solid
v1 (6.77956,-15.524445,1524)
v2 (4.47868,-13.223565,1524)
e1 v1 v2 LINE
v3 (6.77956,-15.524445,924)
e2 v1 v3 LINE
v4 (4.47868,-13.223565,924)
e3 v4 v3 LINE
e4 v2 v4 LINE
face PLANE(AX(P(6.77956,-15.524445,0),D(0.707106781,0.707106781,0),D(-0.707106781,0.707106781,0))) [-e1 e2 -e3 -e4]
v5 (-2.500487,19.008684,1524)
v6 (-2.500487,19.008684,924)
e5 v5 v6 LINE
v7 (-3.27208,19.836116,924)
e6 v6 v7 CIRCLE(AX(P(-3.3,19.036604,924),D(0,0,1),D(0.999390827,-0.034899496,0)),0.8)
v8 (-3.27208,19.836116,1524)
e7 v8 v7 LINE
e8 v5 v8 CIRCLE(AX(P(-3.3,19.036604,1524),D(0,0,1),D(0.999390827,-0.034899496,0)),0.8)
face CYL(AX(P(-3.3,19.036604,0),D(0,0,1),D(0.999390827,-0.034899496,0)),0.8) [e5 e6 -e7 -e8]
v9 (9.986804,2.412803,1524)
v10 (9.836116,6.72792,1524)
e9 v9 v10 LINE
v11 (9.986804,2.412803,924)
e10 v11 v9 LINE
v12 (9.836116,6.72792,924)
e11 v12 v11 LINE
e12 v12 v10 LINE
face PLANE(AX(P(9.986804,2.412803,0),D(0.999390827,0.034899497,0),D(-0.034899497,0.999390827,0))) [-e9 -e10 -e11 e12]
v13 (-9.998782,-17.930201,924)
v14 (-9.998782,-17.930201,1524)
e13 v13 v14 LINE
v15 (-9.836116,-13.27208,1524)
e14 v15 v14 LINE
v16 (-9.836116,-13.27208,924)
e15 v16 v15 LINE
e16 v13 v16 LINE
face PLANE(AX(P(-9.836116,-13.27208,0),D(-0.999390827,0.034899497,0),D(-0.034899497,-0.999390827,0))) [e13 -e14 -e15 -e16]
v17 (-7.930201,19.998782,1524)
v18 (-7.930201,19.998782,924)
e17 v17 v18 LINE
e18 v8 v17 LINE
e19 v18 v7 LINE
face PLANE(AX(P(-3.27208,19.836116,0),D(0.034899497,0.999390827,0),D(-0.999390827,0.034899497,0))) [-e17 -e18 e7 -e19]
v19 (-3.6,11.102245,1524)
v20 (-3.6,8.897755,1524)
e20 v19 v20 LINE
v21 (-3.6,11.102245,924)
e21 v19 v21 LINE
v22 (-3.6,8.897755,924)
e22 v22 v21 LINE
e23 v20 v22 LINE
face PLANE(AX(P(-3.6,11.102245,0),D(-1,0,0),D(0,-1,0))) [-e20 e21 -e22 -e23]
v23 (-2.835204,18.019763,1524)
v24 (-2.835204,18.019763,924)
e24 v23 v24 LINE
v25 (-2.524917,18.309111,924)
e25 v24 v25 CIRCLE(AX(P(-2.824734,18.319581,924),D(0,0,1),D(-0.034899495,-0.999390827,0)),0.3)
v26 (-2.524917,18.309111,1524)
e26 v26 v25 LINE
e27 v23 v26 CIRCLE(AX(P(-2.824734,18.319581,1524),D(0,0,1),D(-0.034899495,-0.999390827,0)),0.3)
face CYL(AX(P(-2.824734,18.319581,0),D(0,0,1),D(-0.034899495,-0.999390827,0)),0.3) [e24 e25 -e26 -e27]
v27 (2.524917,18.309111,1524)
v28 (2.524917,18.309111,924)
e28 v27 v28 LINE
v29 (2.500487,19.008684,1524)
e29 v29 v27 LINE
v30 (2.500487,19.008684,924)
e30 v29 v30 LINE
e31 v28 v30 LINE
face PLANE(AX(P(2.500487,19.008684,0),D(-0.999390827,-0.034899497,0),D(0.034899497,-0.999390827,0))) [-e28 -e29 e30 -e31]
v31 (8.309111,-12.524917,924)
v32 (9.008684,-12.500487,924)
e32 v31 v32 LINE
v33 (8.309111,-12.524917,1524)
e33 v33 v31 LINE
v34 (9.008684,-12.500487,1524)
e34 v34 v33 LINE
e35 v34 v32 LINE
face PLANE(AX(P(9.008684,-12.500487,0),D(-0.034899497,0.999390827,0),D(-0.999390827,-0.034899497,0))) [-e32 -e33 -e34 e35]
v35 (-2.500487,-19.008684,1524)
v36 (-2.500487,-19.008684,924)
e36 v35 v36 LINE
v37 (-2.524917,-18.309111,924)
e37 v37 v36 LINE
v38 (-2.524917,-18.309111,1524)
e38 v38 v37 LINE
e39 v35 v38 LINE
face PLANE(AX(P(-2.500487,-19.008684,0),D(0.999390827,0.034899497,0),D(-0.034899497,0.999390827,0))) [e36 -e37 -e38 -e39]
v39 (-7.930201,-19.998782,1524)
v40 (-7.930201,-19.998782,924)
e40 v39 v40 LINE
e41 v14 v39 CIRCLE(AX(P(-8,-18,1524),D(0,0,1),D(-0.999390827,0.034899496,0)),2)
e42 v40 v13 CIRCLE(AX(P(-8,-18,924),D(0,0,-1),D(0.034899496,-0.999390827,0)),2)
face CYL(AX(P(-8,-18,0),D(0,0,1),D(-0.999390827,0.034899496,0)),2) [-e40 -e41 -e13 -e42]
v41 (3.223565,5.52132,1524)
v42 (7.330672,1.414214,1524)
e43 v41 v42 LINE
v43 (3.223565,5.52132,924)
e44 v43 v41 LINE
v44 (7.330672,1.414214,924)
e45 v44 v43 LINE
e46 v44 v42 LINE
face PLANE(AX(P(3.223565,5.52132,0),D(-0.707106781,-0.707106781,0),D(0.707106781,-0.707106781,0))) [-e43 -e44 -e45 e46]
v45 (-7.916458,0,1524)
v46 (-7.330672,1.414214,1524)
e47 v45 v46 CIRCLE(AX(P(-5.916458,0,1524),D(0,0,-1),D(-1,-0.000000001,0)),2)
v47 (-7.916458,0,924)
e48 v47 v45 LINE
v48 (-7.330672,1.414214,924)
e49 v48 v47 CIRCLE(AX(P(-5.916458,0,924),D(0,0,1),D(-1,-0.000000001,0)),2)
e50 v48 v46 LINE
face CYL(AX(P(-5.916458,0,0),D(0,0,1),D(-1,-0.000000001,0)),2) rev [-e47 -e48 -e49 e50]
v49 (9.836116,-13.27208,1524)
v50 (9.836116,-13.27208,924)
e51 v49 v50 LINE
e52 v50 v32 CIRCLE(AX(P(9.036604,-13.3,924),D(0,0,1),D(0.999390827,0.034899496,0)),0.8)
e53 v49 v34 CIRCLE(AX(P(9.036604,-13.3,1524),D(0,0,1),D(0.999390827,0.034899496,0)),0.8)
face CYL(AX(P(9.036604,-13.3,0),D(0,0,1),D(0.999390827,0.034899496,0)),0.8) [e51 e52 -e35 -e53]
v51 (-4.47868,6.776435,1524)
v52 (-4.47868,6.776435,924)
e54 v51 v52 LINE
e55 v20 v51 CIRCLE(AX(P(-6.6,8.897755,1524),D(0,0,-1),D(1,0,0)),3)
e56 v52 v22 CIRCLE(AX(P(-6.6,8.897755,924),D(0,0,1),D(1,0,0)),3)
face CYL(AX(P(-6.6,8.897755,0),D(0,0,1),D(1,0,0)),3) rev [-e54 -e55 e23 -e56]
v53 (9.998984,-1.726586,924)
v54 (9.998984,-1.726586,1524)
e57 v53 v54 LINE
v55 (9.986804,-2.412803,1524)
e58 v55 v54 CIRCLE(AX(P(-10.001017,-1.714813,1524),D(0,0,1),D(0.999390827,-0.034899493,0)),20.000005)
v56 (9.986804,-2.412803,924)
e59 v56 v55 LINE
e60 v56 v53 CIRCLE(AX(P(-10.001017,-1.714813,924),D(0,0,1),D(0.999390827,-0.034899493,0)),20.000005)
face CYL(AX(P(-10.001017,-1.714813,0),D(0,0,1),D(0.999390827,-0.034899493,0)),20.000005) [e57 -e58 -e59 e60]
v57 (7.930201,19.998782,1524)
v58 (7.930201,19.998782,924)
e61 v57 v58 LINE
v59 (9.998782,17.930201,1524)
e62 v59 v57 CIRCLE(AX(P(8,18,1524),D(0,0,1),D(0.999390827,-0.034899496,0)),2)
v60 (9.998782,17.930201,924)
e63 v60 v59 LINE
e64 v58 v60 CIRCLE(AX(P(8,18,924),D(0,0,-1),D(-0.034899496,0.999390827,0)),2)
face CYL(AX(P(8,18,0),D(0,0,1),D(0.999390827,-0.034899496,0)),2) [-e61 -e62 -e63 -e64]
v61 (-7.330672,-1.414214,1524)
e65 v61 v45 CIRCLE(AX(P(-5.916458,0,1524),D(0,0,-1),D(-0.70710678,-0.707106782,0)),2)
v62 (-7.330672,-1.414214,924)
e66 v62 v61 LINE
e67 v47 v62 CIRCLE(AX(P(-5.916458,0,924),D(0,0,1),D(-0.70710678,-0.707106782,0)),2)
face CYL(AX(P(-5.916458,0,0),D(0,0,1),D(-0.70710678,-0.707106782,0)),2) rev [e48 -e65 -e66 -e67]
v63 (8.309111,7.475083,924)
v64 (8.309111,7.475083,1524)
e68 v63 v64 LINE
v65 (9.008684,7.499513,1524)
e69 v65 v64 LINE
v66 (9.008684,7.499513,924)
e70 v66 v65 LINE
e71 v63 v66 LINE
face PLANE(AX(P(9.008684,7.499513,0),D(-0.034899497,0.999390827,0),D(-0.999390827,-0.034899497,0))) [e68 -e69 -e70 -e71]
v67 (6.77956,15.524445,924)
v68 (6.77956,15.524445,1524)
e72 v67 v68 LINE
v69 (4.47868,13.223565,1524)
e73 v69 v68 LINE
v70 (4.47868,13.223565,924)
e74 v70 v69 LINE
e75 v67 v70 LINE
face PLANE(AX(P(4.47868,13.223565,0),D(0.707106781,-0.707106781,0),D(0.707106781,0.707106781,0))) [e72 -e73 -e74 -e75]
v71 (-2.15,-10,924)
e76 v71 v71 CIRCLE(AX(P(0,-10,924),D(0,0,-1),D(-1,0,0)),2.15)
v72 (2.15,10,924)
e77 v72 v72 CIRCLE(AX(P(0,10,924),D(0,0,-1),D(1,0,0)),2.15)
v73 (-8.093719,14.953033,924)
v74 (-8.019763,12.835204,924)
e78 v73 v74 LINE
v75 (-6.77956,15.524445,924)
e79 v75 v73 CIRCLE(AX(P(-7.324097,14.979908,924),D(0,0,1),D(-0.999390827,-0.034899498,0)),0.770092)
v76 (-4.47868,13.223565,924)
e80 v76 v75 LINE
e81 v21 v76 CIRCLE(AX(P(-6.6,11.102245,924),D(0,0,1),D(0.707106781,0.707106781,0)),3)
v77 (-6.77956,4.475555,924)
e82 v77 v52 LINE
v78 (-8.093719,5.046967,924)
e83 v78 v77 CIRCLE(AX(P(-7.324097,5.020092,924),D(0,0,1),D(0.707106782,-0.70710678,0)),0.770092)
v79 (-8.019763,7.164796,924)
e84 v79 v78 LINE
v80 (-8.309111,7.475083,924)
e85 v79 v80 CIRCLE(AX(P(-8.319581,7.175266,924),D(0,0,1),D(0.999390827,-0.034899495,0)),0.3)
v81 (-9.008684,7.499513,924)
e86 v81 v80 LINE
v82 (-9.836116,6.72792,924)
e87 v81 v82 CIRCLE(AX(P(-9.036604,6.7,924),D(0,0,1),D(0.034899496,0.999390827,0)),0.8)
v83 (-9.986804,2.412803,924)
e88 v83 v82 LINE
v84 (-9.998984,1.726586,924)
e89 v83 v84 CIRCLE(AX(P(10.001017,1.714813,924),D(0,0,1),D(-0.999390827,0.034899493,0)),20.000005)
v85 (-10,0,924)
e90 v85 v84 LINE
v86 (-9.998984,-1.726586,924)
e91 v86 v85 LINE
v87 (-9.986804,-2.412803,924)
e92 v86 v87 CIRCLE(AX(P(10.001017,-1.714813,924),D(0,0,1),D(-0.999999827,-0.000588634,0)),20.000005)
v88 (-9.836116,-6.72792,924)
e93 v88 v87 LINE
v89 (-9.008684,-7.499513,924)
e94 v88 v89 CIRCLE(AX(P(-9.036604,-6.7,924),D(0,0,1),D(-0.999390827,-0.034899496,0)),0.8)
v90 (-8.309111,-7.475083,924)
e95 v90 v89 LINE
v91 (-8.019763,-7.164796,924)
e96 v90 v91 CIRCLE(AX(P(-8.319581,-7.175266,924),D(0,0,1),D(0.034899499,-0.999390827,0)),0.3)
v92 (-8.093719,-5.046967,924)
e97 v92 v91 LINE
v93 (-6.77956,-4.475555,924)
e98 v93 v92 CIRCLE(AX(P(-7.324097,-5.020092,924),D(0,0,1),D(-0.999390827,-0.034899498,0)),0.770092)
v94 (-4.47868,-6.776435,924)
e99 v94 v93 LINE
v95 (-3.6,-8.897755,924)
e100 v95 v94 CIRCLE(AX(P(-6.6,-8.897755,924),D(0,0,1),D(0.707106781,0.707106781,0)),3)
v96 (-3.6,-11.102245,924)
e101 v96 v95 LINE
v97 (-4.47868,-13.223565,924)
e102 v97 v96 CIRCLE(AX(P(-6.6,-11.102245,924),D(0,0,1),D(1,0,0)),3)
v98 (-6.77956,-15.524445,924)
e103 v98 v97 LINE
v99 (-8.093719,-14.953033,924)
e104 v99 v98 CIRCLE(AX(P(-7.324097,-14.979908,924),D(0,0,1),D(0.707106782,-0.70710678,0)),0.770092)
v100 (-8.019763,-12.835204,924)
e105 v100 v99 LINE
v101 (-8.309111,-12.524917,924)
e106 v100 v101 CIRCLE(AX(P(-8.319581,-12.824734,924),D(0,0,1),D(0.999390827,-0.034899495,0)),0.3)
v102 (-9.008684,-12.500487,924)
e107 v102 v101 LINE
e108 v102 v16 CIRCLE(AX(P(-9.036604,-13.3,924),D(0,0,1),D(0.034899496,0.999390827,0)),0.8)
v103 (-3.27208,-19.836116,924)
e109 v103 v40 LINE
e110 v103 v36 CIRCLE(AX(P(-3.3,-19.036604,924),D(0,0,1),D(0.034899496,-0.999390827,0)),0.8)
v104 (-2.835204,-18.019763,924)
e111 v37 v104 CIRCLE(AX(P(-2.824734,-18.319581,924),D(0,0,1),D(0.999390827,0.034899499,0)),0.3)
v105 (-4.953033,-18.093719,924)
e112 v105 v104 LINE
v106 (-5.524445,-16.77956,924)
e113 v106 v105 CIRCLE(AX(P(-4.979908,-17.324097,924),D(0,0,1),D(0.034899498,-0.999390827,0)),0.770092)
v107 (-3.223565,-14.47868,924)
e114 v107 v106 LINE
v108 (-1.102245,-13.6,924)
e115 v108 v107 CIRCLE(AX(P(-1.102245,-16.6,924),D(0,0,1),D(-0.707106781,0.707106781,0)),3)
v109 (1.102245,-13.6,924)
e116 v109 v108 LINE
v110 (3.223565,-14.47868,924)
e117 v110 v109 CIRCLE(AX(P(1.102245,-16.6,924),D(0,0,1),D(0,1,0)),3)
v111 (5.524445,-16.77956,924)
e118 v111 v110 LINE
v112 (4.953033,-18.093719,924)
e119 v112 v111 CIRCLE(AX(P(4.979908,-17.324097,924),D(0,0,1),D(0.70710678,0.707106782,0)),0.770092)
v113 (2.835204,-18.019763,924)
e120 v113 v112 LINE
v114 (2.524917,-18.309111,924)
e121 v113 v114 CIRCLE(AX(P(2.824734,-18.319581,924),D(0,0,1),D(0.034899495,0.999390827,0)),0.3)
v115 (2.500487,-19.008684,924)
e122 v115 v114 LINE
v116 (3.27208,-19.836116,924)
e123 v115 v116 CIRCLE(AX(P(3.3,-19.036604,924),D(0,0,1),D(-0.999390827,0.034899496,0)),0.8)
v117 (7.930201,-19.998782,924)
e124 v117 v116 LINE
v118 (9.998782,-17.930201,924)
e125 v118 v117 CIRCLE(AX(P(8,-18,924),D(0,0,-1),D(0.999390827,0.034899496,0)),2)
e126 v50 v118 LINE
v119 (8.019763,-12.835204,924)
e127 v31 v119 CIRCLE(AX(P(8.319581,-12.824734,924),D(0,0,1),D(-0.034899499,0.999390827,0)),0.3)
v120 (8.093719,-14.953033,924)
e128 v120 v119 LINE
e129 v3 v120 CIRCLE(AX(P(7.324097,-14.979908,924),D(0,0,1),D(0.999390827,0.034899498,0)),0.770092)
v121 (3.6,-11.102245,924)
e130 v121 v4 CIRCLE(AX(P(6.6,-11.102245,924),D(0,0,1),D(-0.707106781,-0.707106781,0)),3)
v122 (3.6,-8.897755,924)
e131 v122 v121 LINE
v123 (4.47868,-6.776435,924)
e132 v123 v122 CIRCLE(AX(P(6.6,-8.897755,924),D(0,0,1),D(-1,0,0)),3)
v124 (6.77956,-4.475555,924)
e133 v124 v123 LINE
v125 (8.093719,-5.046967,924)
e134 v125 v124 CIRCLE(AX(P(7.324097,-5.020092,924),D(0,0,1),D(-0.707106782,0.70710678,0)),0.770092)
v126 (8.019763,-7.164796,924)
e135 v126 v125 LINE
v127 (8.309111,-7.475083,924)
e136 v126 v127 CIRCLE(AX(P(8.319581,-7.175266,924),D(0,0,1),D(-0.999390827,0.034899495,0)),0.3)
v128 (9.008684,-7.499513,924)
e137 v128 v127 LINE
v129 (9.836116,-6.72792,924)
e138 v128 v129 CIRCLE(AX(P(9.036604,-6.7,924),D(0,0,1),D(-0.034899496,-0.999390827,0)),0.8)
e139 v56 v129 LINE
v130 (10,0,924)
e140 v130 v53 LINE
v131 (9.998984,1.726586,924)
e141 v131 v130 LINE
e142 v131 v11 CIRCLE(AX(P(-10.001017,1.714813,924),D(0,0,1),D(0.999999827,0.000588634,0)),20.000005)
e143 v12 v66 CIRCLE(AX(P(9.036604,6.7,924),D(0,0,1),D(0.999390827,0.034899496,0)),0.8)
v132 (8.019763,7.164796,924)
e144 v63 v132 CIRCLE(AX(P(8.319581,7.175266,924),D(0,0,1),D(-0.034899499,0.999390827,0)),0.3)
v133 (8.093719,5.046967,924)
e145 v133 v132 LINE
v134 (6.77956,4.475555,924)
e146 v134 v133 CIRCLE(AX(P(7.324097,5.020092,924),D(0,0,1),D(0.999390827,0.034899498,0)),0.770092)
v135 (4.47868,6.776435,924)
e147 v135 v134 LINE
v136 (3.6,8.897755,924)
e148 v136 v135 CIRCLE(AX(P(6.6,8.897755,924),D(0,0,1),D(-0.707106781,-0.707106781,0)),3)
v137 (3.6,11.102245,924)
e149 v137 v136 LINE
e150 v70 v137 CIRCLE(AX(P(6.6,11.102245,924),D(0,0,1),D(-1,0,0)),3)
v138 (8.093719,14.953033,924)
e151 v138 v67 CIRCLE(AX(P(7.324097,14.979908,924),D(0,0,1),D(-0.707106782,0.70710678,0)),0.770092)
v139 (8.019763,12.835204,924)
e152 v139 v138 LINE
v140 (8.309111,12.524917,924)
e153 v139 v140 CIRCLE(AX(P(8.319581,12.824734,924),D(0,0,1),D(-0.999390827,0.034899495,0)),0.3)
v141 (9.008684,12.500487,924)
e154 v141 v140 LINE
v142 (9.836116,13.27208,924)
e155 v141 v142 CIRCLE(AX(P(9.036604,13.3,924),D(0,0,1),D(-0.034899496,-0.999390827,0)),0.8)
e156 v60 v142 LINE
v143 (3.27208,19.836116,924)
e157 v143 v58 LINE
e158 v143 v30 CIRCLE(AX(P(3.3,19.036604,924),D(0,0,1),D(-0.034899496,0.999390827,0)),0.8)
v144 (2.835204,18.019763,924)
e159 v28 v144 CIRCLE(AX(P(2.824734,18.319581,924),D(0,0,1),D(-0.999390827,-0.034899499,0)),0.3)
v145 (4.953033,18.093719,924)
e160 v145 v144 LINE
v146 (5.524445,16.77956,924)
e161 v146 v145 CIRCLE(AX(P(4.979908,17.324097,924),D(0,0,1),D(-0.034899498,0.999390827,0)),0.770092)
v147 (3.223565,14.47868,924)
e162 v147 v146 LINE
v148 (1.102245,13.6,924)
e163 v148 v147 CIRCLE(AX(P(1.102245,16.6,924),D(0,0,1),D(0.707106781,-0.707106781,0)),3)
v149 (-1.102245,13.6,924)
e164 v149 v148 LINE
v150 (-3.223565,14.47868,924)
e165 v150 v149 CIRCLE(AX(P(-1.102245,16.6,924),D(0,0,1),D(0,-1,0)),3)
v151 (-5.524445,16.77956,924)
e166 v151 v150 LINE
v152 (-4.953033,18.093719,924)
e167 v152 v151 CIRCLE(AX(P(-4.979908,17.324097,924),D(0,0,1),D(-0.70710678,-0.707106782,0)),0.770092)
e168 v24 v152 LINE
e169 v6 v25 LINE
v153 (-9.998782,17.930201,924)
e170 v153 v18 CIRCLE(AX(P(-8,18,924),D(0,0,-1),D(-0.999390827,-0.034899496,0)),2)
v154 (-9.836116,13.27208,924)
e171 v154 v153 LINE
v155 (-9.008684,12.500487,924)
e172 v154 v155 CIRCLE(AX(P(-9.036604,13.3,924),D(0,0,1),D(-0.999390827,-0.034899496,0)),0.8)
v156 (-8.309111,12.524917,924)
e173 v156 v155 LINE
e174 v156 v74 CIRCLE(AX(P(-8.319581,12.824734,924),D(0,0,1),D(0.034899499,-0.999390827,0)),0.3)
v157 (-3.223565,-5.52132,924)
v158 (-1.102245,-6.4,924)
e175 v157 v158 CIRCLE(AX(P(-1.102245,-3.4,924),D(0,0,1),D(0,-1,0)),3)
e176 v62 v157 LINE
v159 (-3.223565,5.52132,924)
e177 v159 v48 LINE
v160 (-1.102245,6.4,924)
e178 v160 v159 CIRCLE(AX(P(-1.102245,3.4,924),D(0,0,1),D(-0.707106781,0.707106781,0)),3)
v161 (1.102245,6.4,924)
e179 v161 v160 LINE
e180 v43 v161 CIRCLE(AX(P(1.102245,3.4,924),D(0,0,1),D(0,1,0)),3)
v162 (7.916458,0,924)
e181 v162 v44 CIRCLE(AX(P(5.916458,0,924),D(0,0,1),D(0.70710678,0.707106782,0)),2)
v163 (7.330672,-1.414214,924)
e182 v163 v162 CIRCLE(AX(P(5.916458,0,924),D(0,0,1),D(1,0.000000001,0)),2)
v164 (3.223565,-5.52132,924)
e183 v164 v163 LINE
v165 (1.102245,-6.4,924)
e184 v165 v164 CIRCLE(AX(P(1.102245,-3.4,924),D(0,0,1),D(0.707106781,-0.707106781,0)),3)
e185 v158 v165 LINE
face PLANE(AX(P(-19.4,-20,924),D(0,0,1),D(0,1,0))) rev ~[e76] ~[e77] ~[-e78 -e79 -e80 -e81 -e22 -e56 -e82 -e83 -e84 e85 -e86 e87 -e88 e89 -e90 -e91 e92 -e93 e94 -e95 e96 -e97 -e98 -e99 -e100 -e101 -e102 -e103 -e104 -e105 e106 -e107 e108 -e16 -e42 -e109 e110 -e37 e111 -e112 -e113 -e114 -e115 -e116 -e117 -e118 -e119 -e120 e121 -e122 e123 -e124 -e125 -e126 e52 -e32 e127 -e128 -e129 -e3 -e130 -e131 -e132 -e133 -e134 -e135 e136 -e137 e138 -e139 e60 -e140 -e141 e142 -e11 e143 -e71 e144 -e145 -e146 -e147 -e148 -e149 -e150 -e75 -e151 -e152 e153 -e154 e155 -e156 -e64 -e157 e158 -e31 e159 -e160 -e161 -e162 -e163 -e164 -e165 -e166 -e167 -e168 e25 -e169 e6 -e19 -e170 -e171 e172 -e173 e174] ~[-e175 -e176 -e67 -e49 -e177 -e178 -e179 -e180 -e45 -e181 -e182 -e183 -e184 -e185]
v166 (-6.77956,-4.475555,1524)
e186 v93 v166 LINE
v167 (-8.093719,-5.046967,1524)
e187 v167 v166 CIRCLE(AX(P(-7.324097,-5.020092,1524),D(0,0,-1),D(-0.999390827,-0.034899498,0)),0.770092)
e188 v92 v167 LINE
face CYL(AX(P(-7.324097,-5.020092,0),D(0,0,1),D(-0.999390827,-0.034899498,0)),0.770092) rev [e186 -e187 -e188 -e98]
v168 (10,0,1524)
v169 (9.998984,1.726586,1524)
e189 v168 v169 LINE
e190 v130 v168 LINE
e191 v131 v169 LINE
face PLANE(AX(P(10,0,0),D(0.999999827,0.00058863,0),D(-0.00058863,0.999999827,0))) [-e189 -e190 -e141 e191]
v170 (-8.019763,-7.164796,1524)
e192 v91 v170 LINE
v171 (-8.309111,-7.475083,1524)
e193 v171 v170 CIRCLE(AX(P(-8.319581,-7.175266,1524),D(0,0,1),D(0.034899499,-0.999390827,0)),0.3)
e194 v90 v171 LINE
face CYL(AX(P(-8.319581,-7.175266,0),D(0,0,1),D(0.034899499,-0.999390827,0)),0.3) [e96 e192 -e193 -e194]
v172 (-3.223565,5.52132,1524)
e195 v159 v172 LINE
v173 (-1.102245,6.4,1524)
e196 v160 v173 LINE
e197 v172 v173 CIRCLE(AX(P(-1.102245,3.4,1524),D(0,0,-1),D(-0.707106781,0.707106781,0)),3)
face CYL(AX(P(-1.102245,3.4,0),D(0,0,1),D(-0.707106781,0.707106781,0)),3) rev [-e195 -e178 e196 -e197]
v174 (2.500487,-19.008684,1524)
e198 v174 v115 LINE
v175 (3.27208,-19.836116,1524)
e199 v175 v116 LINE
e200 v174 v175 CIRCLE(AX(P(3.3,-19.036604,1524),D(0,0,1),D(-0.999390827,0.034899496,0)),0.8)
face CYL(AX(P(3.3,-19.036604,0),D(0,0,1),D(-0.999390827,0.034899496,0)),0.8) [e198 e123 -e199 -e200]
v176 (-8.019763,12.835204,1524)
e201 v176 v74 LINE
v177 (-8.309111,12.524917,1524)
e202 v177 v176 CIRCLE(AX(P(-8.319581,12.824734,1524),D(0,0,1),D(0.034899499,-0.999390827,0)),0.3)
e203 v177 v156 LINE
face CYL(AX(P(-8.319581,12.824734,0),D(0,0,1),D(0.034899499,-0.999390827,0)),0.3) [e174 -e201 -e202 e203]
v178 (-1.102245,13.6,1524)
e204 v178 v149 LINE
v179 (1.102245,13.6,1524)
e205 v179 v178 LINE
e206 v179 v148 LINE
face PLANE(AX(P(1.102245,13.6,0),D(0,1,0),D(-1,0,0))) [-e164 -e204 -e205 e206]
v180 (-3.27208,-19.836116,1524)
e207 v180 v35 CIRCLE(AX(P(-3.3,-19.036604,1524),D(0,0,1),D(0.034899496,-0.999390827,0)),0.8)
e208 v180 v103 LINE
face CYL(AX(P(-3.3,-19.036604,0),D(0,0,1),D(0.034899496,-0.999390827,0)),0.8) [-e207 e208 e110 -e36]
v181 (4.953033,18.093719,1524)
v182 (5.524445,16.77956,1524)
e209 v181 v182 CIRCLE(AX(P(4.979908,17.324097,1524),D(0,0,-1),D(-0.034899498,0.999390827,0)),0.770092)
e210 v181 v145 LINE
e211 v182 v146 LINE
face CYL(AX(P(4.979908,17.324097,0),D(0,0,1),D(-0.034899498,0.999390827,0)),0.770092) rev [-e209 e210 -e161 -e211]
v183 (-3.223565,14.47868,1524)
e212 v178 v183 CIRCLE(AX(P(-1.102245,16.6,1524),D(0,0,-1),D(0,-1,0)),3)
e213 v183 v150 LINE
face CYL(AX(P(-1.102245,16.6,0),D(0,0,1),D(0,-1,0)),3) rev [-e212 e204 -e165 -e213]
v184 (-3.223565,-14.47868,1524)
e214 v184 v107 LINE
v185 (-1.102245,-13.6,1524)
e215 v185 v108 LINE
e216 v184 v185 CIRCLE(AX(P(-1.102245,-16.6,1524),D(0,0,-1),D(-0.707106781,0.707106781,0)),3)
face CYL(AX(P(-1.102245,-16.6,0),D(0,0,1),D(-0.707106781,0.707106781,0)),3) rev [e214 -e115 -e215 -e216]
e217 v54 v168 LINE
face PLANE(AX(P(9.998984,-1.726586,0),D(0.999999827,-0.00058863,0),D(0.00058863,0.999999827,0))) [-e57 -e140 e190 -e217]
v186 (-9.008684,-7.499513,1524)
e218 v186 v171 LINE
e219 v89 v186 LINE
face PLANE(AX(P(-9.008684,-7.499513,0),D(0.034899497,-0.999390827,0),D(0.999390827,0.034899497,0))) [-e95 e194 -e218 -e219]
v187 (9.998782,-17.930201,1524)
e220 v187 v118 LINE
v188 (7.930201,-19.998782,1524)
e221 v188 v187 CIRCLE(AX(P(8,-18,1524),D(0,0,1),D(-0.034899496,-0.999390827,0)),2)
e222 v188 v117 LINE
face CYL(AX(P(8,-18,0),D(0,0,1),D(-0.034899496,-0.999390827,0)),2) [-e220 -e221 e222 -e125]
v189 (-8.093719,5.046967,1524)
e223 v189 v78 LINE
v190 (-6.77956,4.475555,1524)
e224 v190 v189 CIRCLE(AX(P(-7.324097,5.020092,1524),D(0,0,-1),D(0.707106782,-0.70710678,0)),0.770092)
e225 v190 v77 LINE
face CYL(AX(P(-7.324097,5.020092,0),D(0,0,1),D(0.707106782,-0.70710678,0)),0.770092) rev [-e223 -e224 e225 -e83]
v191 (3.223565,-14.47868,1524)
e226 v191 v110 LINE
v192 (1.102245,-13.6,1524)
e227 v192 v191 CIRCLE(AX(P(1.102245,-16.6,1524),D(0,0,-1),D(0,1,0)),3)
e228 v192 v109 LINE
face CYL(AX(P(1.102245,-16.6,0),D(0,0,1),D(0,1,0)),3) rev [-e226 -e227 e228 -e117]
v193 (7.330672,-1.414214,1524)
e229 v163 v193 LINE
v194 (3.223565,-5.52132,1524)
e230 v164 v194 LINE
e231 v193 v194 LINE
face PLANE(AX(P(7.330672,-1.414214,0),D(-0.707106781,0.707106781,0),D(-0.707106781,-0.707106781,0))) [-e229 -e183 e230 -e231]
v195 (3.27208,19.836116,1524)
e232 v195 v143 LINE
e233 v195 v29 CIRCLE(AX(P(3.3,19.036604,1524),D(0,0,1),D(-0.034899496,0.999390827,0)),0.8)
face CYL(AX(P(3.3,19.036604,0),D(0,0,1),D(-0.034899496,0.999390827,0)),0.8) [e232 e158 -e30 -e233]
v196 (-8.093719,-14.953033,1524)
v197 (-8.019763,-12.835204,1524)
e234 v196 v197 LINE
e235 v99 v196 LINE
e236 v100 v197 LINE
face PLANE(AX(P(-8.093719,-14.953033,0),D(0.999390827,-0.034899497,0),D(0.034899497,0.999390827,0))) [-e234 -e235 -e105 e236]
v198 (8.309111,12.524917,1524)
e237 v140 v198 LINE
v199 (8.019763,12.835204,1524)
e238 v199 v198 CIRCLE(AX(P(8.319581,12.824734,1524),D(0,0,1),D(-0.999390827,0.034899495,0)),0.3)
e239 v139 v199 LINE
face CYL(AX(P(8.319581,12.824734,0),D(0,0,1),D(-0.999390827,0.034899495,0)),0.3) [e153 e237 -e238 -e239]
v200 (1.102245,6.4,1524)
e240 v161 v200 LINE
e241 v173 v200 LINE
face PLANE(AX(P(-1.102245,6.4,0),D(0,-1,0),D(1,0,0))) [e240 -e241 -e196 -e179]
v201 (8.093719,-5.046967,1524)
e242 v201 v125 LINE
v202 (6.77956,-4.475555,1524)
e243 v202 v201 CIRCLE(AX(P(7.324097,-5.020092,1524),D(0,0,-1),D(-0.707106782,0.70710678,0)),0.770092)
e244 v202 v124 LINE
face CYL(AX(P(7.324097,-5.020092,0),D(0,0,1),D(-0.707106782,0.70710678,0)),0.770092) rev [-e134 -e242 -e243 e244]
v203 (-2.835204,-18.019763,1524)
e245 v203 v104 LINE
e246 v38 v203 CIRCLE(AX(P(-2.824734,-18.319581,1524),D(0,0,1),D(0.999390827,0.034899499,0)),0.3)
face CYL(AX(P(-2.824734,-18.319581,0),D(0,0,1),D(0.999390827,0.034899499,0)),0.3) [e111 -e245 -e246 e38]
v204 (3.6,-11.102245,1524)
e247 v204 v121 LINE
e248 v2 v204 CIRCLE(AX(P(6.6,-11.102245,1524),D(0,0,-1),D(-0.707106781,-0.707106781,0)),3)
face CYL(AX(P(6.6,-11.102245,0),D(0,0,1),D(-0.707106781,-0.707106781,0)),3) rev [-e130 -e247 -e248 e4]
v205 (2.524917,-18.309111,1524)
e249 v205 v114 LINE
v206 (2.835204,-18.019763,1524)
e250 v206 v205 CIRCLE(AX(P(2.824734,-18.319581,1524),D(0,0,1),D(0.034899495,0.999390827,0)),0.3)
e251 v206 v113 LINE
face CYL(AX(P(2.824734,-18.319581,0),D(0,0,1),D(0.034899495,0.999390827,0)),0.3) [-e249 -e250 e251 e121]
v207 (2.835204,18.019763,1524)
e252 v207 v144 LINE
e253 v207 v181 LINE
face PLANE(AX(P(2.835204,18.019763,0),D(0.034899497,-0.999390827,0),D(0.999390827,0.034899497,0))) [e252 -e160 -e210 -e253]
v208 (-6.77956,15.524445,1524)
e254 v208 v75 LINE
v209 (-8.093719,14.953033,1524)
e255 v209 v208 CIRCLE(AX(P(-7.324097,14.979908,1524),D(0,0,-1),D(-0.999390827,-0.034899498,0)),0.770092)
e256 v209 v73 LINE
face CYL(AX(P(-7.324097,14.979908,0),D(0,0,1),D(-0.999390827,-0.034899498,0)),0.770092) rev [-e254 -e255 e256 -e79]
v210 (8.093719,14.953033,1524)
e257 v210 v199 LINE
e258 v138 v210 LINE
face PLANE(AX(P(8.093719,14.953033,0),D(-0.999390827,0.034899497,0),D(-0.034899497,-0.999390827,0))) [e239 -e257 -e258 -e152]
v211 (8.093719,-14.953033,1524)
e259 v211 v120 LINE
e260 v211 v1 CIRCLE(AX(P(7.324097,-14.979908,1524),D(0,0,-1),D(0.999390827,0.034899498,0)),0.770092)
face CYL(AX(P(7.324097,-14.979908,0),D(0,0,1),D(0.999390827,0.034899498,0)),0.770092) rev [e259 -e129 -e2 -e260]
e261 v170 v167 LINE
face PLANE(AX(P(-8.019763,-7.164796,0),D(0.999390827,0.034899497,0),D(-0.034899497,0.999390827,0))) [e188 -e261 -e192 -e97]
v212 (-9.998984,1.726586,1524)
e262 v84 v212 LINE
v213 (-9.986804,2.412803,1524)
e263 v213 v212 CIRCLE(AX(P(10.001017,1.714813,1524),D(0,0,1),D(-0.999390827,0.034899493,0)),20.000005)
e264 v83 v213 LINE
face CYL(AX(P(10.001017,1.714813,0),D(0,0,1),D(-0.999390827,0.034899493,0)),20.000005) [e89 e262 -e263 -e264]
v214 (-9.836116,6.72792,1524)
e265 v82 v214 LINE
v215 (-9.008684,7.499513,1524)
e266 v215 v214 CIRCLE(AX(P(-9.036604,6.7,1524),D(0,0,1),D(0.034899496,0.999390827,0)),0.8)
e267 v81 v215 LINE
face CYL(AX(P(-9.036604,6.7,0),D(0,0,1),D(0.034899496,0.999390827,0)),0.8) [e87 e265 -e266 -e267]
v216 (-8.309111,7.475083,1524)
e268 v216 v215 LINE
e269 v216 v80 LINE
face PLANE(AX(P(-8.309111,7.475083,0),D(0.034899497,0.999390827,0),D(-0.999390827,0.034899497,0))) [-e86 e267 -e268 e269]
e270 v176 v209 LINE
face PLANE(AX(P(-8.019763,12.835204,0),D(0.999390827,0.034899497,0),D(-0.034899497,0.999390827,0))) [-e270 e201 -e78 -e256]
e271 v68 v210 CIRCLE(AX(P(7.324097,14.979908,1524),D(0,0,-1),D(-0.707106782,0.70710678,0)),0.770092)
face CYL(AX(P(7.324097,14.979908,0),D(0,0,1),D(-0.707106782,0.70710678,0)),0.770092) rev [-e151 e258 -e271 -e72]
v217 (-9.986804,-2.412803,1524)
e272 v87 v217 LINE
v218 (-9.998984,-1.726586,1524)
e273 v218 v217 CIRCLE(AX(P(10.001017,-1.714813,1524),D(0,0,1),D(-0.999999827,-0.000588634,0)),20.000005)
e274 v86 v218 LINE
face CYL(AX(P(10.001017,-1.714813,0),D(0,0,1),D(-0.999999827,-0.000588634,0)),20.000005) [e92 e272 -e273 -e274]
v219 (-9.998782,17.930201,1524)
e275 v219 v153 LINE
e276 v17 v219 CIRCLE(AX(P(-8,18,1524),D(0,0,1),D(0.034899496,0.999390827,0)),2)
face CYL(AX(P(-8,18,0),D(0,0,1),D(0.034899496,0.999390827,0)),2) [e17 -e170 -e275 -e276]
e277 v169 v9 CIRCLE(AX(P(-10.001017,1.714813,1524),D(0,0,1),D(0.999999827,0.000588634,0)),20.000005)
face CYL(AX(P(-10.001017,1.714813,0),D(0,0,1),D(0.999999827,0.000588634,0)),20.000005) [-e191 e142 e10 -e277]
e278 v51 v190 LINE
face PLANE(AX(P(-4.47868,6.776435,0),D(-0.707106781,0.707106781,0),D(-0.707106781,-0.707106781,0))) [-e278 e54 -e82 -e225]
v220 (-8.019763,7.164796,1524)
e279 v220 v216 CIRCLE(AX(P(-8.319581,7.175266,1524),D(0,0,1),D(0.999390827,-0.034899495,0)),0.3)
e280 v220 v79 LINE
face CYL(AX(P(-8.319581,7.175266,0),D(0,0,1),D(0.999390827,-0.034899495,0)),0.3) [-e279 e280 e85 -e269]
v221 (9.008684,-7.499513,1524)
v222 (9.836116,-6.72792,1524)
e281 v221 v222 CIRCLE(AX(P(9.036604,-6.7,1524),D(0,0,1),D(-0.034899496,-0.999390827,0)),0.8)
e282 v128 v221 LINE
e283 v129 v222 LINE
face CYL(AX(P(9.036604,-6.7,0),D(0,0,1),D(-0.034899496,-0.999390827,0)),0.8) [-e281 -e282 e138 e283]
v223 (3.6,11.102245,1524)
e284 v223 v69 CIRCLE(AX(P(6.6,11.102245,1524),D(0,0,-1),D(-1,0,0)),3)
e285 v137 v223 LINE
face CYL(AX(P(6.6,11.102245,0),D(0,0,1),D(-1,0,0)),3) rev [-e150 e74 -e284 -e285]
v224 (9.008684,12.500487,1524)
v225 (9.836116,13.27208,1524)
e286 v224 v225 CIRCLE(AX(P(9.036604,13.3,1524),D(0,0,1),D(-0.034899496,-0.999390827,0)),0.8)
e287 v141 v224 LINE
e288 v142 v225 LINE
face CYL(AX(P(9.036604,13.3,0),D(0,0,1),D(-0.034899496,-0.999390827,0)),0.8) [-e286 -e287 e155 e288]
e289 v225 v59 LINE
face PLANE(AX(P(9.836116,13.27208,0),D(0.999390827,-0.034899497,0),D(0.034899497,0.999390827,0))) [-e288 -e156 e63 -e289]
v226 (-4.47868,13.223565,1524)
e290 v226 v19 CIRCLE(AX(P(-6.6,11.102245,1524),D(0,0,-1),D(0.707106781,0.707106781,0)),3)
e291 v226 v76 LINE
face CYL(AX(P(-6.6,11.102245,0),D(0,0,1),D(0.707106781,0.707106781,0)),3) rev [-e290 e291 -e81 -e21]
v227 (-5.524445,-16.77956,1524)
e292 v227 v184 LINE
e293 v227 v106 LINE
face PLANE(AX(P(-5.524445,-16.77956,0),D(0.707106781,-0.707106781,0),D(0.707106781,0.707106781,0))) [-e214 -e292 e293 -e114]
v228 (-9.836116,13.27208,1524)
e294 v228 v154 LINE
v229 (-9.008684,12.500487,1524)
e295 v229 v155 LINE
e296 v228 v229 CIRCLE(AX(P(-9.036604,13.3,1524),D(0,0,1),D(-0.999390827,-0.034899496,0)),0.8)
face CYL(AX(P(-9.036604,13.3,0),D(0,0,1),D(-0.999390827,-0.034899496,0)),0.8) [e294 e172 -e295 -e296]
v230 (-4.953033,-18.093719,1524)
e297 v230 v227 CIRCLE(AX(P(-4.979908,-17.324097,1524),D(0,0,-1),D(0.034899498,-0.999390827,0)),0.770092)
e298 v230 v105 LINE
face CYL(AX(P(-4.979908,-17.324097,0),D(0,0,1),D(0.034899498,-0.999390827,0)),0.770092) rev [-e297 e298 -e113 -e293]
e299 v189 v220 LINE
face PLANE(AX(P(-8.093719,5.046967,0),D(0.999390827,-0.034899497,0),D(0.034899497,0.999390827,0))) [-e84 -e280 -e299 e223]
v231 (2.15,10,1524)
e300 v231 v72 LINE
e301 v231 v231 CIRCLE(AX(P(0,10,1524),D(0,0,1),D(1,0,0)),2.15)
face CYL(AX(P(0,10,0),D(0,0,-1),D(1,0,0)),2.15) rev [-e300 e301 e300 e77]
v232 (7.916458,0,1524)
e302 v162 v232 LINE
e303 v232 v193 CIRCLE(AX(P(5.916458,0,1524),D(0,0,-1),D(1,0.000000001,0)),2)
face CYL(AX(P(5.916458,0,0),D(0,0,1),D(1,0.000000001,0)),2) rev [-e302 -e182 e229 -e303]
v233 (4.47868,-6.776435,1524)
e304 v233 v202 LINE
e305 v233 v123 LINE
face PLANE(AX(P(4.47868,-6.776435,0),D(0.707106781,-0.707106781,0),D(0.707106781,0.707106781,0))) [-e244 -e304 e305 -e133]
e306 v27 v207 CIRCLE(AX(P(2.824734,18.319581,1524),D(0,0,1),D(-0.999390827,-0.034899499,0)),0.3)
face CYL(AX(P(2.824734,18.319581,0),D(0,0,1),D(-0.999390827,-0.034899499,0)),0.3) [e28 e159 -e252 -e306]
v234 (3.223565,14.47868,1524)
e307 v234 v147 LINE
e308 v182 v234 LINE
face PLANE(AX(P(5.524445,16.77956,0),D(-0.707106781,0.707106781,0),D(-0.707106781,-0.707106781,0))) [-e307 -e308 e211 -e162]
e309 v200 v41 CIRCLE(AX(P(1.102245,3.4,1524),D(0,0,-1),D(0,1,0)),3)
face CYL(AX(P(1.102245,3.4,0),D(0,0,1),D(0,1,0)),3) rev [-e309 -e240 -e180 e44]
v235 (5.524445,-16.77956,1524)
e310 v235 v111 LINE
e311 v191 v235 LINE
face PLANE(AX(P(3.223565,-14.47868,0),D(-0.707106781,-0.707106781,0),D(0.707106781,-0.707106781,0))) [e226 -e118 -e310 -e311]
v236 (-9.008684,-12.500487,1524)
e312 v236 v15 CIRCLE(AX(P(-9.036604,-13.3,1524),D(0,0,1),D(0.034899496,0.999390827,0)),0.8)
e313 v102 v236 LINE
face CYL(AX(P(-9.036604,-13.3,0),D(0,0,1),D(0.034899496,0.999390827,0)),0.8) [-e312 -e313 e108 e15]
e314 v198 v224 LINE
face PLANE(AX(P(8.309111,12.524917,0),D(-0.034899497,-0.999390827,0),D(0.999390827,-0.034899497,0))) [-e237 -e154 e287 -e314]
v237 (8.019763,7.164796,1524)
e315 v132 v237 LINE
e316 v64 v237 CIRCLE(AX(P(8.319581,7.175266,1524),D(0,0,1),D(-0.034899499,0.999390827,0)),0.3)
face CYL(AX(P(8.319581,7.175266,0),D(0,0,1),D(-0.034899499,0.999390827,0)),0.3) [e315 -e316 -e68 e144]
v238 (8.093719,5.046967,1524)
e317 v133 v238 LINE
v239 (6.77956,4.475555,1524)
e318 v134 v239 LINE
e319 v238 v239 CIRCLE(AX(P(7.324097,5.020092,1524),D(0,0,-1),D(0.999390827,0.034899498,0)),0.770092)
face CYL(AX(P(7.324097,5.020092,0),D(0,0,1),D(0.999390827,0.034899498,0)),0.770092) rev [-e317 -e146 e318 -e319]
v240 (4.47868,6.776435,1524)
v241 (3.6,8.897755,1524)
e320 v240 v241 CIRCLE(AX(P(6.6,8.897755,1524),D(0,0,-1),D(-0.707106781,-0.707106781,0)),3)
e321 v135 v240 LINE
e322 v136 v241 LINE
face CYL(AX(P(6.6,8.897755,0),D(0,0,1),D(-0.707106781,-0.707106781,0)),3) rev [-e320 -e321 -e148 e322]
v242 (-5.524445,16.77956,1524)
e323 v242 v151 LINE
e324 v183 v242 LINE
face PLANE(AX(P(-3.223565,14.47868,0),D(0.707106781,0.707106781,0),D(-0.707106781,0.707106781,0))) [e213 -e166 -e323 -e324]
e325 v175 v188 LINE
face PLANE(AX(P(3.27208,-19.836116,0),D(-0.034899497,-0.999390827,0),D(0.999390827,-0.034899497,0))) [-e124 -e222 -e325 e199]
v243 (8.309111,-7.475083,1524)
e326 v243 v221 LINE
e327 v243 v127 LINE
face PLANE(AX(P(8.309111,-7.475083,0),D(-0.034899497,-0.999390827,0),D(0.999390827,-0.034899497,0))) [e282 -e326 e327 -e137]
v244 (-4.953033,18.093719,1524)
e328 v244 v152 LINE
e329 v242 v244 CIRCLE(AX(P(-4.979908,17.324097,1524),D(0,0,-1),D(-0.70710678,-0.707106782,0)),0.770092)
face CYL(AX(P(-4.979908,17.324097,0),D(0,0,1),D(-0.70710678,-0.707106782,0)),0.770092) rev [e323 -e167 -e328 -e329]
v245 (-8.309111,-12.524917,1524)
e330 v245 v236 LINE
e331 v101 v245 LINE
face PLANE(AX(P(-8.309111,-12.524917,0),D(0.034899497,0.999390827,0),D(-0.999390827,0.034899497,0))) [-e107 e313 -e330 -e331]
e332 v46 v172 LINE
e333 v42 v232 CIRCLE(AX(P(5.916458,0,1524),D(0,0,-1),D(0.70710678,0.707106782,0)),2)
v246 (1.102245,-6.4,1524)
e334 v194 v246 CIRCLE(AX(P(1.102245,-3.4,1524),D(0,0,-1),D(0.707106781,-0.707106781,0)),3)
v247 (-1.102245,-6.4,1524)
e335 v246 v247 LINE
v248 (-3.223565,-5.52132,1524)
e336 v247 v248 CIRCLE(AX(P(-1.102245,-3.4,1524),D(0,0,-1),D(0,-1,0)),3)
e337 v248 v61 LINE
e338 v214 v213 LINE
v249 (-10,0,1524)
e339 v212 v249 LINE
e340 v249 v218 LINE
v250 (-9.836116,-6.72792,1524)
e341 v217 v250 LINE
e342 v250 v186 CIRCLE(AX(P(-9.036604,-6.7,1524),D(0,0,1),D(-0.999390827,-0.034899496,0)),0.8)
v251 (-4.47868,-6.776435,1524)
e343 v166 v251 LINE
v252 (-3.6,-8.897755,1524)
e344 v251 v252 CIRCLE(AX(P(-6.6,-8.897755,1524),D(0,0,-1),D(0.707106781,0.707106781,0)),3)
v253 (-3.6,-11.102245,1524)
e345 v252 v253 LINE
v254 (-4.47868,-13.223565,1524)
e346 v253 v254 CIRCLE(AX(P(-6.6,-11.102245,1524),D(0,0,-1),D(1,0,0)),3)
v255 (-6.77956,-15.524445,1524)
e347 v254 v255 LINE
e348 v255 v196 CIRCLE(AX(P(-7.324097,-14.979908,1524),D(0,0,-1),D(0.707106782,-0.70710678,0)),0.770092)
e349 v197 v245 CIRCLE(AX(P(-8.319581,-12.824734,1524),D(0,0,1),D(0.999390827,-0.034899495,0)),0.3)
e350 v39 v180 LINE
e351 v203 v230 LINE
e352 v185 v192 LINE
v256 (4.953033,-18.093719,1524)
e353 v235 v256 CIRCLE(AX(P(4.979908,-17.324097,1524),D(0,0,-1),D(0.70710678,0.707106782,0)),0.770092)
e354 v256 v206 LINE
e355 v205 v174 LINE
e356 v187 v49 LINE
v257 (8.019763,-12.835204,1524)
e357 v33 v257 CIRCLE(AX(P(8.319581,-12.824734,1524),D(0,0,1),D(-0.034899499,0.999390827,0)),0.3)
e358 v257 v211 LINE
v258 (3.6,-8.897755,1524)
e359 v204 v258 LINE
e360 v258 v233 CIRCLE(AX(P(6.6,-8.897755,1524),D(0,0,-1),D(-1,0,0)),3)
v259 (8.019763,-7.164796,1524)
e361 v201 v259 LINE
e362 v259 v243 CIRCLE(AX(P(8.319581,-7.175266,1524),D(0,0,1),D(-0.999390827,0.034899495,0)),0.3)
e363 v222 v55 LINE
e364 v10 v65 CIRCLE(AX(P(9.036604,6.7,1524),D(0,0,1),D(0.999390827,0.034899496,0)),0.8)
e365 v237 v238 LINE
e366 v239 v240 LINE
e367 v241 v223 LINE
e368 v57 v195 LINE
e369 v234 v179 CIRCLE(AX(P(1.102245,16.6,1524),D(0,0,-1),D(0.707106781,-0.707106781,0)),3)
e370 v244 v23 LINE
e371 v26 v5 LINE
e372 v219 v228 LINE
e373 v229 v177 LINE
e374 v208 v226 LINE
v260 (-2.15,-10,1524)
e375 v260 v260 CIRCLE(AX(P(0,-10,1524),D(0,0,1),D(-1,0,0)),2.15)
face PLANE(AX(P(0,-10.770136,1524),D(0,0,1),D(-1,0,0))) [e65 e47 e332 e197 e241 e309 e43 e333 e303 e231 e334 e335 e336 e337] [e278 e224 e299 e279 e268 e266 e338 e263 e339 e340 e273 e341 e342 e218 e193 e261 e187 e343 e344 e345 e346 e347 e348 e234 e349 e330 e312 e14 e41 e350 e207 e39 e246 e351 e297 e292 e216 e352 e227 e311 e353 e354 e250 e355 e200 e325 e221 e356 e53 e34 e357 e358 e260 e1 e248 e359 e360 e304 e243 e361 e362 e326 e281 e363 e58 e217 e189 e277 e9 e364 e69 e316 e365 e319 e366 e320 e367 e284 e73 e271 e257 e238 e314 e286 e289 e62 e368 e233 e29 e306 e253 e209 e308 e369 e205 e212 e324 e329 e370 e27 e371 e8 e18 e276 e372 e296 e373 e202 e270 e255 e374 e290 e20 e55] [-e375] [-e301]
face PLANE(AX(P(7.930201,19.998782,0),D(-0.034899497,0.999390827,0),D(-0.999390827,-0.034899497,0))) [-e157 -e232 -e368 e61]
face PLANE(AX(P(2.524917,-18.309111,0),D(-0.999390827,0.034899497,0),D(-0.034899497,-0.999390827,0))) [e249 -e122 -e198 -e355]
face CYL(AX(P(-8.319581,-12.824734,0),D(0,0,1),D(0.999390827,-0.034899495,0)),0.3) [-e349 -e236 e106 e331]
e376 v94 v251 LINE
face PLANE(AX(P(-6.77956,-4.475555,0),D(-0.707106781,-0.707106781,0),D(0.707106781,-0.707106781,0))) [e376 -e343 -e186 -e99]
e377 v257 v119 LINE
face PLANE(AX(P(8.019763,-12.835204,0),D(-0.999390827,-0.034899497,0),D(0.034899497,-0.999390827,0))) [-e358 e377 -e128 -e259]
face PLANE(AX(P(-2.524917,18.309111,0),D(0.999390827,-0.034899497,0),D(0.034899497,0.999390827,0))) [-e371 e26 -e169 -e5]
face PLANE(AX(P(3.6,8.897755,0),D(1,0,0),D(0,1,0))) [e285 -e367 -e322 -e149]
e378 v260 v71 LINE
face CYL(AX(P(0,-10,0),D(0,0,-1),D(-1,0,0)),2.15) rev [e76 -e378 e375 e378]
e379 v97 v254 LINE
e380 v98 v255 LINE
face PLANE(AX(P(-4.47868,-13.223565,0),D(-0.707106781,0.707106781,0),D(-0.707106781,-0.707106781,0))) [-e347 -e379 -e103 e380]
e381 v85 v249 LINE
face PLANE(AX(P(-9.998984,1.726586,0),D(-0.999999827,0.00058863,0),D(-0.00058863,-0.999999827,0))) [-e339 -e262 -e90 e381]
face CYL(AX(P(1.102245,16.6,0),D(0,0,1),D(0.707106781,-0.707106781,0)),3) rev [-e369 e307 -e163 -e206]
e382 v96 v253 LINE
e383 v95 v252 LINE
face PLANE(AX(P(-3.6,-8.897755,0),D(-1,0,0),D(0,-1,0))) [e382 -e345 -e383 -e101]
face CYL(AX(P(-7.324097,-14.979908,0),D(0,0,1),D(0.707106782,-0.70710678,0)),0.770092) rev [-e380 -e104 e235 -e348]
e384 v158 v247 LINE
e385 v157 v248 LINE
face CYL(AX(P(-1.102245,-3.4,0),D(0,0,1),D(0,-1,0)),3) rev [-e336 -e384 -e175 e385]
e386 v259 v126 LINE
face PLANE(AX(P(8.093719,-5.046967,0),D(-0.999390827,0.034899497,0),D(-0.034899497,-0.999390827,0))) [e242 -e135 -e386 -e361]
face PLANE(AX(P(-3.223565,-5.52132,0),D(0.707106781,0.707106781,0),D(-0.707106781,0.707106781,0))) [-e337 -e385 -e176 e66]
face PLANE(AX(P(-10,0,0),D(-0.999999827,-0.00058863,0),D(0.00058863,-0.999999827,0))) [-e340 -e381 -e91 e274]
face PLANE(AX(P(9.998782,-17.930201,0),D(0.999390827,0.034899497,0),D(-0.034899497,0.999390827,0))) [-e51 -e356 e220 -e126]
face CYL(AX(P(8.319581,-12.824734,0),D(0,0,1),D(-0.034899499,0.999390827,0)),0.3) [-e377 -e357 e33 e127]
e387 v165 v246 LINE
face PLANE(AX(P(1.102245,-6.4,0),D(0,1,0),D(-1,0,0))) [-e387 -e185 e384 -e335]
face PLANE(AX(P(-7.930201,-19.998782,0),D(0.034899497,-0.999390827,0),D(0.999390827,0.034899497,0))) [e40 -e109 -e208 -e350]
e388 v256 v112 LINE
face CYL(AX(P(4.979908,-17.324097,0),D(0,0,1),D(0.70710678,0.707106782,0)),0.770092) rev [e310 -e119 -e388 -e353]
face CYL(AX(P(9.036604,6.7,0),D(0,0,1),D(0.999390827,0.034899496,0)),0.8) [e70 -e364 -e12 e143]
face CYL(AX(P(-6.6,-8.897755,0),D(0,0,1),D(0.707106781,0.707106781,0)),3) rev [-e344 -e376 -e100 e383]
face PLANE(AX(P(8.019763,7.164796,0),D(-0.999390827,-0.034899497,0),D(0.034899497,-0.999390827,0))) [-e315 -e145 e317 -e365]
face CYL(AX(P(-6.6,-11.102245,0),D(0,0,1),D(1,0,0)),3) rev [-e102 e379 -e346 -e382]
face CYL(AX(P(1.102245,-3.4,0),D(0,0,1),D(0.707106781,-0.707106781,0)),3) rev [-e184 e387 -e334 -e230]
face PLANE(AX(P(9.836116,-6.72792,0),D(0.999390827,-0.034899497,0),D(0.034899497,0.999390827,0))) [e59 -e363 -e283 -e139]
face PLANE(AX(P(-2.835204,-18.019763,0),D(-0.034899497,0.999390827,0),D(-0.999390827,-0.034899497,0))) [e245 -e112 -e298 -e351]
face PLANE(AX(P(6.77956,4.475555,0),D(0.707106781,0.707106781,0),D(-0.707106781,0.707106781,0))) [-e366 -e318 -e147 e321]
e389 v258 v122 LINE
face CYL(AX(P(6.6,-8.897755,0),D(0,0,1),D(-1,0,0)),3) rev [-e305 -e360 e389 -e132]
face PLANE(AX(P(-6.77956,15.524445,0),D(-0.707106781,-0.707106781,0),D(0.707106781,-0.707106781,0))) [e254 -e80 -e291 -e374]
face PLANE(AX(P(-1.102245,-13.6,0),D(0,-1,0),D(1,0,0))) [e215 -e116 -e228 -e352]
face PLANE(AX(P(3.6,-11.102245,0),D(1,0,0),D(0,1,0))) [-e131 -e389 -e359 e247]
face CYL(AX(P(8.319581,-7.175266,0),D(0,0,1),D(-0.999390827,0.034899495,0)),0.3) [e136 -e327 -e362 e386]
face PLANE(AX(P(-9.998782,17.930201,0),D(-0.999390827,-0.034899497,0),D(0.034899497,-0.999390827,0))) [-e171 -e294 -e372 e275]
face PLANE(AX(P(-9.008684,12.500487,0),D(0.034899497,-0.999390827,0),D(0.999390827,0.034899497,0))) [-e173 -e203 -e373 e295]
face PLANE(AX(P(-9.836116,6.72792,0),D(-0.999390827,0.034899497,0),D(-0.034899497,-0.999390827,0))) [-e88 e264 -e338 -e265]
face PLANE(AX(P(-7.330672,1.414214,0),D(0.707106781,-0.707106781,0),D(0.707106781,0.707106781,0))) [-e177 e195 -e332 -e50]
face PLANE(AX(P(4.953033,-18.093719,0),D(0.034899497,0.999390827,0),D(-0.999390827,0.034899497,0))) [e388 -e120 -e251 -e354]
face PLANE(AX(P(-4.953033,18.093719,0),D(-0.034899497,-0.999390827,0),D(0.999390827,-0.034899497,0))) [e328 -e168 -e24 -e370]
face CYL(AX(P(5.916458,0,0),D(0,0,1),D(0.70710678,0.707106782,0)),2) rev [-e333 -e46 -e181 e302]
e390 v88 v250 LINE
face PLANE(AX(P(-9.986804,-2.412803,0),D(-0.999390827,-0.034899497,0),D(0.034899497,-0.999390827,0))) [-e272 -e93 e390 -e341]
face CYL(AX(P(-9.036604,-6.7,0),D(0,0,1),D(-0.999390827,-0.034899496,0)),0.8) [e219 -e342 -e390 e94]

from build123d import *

# Parameters (mm, degrees)
SKETCH3_R               = 2.15
BOSS_EXTRUDE1_DEPTH     = 1524
CIRPATTERN1_COUNT       = 2
CUT_EXTRUDE1_DEPTH      = 10
CUT_EXTRUDE1_DEPTH_BACK = 23
SKETCH4_OUTSIDE_W       = 3659.666
SKETCH4_OUTSIDE_H       = 651.666
SKETCH4_OUTSIDE_W_2     = 600
SKETCH4_OUTSIDE_H_2     = 40


with BuildPart() as part:
    # Sketch3 → Boss-Extrude1 (new, symmetric)
    with BuildSketch(Plane.XY):
        with BuildLine():
            Line((-8.30911066, 7.475083014), (-9.008684239, 7.499512662))
            ThreePointArc((-9.008684239, 7.499512662), (-9.582202525, 7.285082961), (-9.836116498, 6.727919597))
            Line((-9.836116498, 6.727919597), (-9.986803685, 2.412803152))
            ThreePointArc((-9.986803685, 2.412803152), (-9.995837451, 2.069746735), (-9.99898368, 1.726585818))
            Line((-9.99898368, 1.726585818), (-10, 0))
            Line((-10, 0), (-7.916458339, 0))
            ThreePointArc((-7.916458339, 0), (-7.764217404, 0.765366865), (-7.330671901, 1.414213562))
            Line((-7.330671901, 1.414213562), (-3.22356512, 5.521320344))
            ThreePointArc((-3.22356512, 5.521320344), (-2.250295073, 6.171638598), (-1.102244776, 6.4))
            Line((-1.102244776, 6.4), (1.102244776, 6.4))
            ThreePointArc((1.102244776, 6.4), (2.250295073, 6.171638598), (3.22356512, 5.521320344))
            Line((3.22356512, 5.521320344), (7.330671901, 1.414213562))
            ThreePointArc((7.330671901, 1.414213562), (7.764217404, 0.765366865), (7.916458339, 0))
            Line((7.916458339, 0), (10, 0))
            Line((10, 0), (9.99898368, 1.726585818))
            ThreePointArc((9.99898368, 1.726585818), (9.995837451, 2.069746735), (9.986803685, 2.412803152))
            Line((9.986803685, 2.412803152), (9.836116498, 6.727919597))
            ThreePointArc((9.836116498, 6.727919597), (9.582202525, 7.285082961), (9.008684239, 7.499512662))
            Line((9.008684239, 7.499512662), (8.30911066, 7.475083014))
            ThreePointArc((8.30911066, 7.475083014), (8.100174399, 7.379865274), (8.019763261, 7.164795917))
            Line((8.019763261, 7.164795917), (8.093719461, 5.046967452))
            ThreePointArc((8.093719461, 5.046967452), (7.631170264, 4.313871343), (6.779559917, 4.47555462))
            Line((6.779559917, 4.47555462), (4.478679656, 6.77643488))
            ThreePointArc((4.478679656, 6.77643488), (3.828361402, 7.749704927), (3.6, 8.897755224))
            Line((3.6, 8.897755224), (3.6, 11.102244776))
            ThreePointArc((3.6, 11.102244776), (3.828361402, 12.250295073), (4.478679656, 13.22356512))
            Line((4.478679656, 13.22356512), (6.779559917, 15.52444538))
            ThreePointArc((6.779559917, 15.52444538), (7.631170264, 15.686128657), (8.093719461, 14.953032548))
            Line((8.093719461, 14.953032548), (8.019763261, 12.835204083))
            ThreePointArc((8.019763261, 12.835204083), (8.100174399, 12.620134726), (8.30911066, 12.524916986))
            Line((8.30911066, 12.524916986), (9.008684239, 12.500487338))
            ThreePointArc((9.008684239, 12.500487338), (9.582202525, 12.714917039), (9.836116498, 13.272080403))
            Line((9.836116498, 13.272080403), (9.998781654, 17.930201007))
            ThreePointArc((9.998781654, 17.930201007), (9.414213562, 19.414213562), (7.930201007, 19.998781654))
            Line((7.930201007, 19.998781654), (3.272080403, 19.836116498))
            ThreePointArc((3.272080403, 19.836116498), (2.714917039, 19.582202525), (2.500487338, 19.008684239))
            Line((2.500487338, 19.008684239), (2.524916986, 18.30911066))
            ThreePointArc((2.524916986, 18.30911066), (2.620134726, 18.100174399), (2.835204083, 18.019763261))
            Line((2.835204083, 18.019763261), (4.953032548, 18.093719461))
            ThreePointArc((4.953032548, 18.093719461), (5.686128657, 17.631170264), (5.52444538, 16.779559917))
            Line((5.52444538, 16.779559917), (3.22356512, 14.478679656))
            ThreePointArc((3.22356512, 14.478679656), (2.250295073, 13.828361402), (1.102244776, 13.6))
            Line((1.102244776, 13.6), (-1.102244776, 13.6))
            ThreePointArc((-1.102244776, 13.6), (-2.250295073, 13.828361402), (-3.22356512, 14.478679656))
            Line((-3.22356512, 14.478679656), (-5.52444538, 16.779559917))
            ThreePointArc((-5.52444538, 16.779559917), (-5.686128657, 17.631170264), (-4.953032548, 18.093719461))
            Line((-4.953032548, 18.093719461), (-2.835204083, 18.019763261))
            ThreePointArc((-2.835204083, 18.019763261), (-2.620134726, 18.100174399), (-2.524916986, 18.30911066))
            Line((-2.524916986, 18.30911066), (-2.500487338, 19.008684239))
            ThreePointArc((-2.500487338, 19.008684239), (-2.714917039, 19.582202525), (-3.272080403, 19.836116498))
            Line((-3.272080403, 19.836116498), (-7.930201007, 19.998781654))
            ThreePointArc((-7.930201007, 19.998781654), (-9.414213562, 19.414213562), (-9.998781654, 17.930201007))
            Line((-9.998781654, 17.930201007), (-9.836116498, 13.272080403))
            ThreePointArc((-9.836116498, 13.272080403), (-9.582202525, 12.714917039), (-9.008684239, 12.500487338))
            Line((-9.008684239, 12.500487338), (-8.30911066, 12.524916986))
            ThreePointArc((-8.30911066, 12.524916986), (-8.100174399, 12.620134726), (-8.019763261, 12.835204083))
            Line((-8.019763261, 12.835204083), (-8.093719461, 14.953032548))
            ThreePointArc((-8.093719461, 14.953032548), (-7.631170264, 15.686128657), (-6.779559917, 15.52444538))
            Line((-6.779559917, 15.52444538), (-4.478679656, 13.22356512))
            ThreePointArc((-4.478679656, 13.22356512), (-3.828361402, 12.250295073), (-3.6, 11.102244776))
            Line((-3.6, 11.102244776), (-3.6, 8.897755224))
            ThreePointArc((-3.6, 8.897755224), (-3.828361402, 7.749704927), (-4.478679656, 6.77643488))
            Line((-4.478679656, 6.77643488), (-6.779559917, 4.47555462))
            ThreePointArc((-6.779559917, 4.47555462), (-7.631170264, 4.313871343), (-8.093719461, 5.046967452))
            Line((-8.093719461, 5.046967452), (-8.019763261, 7.164795917))
            ThreePointArc((-8.019763261, 7.164795917), (-8.100174399, 7.379865274), (-8.30911066, 7.475083014))
        make_face()
        with Locations((0, 10)):
            Circle(SKETCH3_R, mode=Mode.SUBTRACT)
    boss_extrude1 = extrude(amount=BOSS_EXTRUDE1_DEPTH, both=True)

    # CirPattern1: Boss-Extrude1 ×2 about axis
    cirpattern1_axis = Axis((0, 0, 0), (0, 0, 1))
    for i in range(1, CIRPATTERN1_COUNT):
        add(boss_extrude1.rotate(cirpattern1_axis, i * 360 / CIRPATTERN1_COUNT))

    # Sketch4 outside → Cut-Extrude1 (cut, two sides: drawn at the far end of the back side and taken through both)
    with BuildSketch(Plane(origin=(3.6, 0, 0), x_dir=(0, 0, -1), z_dir=(1, 0, 0)).offset(-CUT_EXTRUDE1_DEPTH_BACK)):
        Rectangle(SKETCH4_OUTSIDE_W, SKETCH4_OUTSIDE_H)
        with Locations((-1224, 0)):
            Rectangle(SKETCH4_OUTSIDE_W_2, SKETCH4_OUTSIDE_H_2, mode=Mode.SUBTRACT)
    extrude(amount=CUT_EXTRUDE1_DEPTH + CUT_EXTRUDE1_DEPTH_BACK, mode=Mode.SUBTRACT)


solid = part.part
